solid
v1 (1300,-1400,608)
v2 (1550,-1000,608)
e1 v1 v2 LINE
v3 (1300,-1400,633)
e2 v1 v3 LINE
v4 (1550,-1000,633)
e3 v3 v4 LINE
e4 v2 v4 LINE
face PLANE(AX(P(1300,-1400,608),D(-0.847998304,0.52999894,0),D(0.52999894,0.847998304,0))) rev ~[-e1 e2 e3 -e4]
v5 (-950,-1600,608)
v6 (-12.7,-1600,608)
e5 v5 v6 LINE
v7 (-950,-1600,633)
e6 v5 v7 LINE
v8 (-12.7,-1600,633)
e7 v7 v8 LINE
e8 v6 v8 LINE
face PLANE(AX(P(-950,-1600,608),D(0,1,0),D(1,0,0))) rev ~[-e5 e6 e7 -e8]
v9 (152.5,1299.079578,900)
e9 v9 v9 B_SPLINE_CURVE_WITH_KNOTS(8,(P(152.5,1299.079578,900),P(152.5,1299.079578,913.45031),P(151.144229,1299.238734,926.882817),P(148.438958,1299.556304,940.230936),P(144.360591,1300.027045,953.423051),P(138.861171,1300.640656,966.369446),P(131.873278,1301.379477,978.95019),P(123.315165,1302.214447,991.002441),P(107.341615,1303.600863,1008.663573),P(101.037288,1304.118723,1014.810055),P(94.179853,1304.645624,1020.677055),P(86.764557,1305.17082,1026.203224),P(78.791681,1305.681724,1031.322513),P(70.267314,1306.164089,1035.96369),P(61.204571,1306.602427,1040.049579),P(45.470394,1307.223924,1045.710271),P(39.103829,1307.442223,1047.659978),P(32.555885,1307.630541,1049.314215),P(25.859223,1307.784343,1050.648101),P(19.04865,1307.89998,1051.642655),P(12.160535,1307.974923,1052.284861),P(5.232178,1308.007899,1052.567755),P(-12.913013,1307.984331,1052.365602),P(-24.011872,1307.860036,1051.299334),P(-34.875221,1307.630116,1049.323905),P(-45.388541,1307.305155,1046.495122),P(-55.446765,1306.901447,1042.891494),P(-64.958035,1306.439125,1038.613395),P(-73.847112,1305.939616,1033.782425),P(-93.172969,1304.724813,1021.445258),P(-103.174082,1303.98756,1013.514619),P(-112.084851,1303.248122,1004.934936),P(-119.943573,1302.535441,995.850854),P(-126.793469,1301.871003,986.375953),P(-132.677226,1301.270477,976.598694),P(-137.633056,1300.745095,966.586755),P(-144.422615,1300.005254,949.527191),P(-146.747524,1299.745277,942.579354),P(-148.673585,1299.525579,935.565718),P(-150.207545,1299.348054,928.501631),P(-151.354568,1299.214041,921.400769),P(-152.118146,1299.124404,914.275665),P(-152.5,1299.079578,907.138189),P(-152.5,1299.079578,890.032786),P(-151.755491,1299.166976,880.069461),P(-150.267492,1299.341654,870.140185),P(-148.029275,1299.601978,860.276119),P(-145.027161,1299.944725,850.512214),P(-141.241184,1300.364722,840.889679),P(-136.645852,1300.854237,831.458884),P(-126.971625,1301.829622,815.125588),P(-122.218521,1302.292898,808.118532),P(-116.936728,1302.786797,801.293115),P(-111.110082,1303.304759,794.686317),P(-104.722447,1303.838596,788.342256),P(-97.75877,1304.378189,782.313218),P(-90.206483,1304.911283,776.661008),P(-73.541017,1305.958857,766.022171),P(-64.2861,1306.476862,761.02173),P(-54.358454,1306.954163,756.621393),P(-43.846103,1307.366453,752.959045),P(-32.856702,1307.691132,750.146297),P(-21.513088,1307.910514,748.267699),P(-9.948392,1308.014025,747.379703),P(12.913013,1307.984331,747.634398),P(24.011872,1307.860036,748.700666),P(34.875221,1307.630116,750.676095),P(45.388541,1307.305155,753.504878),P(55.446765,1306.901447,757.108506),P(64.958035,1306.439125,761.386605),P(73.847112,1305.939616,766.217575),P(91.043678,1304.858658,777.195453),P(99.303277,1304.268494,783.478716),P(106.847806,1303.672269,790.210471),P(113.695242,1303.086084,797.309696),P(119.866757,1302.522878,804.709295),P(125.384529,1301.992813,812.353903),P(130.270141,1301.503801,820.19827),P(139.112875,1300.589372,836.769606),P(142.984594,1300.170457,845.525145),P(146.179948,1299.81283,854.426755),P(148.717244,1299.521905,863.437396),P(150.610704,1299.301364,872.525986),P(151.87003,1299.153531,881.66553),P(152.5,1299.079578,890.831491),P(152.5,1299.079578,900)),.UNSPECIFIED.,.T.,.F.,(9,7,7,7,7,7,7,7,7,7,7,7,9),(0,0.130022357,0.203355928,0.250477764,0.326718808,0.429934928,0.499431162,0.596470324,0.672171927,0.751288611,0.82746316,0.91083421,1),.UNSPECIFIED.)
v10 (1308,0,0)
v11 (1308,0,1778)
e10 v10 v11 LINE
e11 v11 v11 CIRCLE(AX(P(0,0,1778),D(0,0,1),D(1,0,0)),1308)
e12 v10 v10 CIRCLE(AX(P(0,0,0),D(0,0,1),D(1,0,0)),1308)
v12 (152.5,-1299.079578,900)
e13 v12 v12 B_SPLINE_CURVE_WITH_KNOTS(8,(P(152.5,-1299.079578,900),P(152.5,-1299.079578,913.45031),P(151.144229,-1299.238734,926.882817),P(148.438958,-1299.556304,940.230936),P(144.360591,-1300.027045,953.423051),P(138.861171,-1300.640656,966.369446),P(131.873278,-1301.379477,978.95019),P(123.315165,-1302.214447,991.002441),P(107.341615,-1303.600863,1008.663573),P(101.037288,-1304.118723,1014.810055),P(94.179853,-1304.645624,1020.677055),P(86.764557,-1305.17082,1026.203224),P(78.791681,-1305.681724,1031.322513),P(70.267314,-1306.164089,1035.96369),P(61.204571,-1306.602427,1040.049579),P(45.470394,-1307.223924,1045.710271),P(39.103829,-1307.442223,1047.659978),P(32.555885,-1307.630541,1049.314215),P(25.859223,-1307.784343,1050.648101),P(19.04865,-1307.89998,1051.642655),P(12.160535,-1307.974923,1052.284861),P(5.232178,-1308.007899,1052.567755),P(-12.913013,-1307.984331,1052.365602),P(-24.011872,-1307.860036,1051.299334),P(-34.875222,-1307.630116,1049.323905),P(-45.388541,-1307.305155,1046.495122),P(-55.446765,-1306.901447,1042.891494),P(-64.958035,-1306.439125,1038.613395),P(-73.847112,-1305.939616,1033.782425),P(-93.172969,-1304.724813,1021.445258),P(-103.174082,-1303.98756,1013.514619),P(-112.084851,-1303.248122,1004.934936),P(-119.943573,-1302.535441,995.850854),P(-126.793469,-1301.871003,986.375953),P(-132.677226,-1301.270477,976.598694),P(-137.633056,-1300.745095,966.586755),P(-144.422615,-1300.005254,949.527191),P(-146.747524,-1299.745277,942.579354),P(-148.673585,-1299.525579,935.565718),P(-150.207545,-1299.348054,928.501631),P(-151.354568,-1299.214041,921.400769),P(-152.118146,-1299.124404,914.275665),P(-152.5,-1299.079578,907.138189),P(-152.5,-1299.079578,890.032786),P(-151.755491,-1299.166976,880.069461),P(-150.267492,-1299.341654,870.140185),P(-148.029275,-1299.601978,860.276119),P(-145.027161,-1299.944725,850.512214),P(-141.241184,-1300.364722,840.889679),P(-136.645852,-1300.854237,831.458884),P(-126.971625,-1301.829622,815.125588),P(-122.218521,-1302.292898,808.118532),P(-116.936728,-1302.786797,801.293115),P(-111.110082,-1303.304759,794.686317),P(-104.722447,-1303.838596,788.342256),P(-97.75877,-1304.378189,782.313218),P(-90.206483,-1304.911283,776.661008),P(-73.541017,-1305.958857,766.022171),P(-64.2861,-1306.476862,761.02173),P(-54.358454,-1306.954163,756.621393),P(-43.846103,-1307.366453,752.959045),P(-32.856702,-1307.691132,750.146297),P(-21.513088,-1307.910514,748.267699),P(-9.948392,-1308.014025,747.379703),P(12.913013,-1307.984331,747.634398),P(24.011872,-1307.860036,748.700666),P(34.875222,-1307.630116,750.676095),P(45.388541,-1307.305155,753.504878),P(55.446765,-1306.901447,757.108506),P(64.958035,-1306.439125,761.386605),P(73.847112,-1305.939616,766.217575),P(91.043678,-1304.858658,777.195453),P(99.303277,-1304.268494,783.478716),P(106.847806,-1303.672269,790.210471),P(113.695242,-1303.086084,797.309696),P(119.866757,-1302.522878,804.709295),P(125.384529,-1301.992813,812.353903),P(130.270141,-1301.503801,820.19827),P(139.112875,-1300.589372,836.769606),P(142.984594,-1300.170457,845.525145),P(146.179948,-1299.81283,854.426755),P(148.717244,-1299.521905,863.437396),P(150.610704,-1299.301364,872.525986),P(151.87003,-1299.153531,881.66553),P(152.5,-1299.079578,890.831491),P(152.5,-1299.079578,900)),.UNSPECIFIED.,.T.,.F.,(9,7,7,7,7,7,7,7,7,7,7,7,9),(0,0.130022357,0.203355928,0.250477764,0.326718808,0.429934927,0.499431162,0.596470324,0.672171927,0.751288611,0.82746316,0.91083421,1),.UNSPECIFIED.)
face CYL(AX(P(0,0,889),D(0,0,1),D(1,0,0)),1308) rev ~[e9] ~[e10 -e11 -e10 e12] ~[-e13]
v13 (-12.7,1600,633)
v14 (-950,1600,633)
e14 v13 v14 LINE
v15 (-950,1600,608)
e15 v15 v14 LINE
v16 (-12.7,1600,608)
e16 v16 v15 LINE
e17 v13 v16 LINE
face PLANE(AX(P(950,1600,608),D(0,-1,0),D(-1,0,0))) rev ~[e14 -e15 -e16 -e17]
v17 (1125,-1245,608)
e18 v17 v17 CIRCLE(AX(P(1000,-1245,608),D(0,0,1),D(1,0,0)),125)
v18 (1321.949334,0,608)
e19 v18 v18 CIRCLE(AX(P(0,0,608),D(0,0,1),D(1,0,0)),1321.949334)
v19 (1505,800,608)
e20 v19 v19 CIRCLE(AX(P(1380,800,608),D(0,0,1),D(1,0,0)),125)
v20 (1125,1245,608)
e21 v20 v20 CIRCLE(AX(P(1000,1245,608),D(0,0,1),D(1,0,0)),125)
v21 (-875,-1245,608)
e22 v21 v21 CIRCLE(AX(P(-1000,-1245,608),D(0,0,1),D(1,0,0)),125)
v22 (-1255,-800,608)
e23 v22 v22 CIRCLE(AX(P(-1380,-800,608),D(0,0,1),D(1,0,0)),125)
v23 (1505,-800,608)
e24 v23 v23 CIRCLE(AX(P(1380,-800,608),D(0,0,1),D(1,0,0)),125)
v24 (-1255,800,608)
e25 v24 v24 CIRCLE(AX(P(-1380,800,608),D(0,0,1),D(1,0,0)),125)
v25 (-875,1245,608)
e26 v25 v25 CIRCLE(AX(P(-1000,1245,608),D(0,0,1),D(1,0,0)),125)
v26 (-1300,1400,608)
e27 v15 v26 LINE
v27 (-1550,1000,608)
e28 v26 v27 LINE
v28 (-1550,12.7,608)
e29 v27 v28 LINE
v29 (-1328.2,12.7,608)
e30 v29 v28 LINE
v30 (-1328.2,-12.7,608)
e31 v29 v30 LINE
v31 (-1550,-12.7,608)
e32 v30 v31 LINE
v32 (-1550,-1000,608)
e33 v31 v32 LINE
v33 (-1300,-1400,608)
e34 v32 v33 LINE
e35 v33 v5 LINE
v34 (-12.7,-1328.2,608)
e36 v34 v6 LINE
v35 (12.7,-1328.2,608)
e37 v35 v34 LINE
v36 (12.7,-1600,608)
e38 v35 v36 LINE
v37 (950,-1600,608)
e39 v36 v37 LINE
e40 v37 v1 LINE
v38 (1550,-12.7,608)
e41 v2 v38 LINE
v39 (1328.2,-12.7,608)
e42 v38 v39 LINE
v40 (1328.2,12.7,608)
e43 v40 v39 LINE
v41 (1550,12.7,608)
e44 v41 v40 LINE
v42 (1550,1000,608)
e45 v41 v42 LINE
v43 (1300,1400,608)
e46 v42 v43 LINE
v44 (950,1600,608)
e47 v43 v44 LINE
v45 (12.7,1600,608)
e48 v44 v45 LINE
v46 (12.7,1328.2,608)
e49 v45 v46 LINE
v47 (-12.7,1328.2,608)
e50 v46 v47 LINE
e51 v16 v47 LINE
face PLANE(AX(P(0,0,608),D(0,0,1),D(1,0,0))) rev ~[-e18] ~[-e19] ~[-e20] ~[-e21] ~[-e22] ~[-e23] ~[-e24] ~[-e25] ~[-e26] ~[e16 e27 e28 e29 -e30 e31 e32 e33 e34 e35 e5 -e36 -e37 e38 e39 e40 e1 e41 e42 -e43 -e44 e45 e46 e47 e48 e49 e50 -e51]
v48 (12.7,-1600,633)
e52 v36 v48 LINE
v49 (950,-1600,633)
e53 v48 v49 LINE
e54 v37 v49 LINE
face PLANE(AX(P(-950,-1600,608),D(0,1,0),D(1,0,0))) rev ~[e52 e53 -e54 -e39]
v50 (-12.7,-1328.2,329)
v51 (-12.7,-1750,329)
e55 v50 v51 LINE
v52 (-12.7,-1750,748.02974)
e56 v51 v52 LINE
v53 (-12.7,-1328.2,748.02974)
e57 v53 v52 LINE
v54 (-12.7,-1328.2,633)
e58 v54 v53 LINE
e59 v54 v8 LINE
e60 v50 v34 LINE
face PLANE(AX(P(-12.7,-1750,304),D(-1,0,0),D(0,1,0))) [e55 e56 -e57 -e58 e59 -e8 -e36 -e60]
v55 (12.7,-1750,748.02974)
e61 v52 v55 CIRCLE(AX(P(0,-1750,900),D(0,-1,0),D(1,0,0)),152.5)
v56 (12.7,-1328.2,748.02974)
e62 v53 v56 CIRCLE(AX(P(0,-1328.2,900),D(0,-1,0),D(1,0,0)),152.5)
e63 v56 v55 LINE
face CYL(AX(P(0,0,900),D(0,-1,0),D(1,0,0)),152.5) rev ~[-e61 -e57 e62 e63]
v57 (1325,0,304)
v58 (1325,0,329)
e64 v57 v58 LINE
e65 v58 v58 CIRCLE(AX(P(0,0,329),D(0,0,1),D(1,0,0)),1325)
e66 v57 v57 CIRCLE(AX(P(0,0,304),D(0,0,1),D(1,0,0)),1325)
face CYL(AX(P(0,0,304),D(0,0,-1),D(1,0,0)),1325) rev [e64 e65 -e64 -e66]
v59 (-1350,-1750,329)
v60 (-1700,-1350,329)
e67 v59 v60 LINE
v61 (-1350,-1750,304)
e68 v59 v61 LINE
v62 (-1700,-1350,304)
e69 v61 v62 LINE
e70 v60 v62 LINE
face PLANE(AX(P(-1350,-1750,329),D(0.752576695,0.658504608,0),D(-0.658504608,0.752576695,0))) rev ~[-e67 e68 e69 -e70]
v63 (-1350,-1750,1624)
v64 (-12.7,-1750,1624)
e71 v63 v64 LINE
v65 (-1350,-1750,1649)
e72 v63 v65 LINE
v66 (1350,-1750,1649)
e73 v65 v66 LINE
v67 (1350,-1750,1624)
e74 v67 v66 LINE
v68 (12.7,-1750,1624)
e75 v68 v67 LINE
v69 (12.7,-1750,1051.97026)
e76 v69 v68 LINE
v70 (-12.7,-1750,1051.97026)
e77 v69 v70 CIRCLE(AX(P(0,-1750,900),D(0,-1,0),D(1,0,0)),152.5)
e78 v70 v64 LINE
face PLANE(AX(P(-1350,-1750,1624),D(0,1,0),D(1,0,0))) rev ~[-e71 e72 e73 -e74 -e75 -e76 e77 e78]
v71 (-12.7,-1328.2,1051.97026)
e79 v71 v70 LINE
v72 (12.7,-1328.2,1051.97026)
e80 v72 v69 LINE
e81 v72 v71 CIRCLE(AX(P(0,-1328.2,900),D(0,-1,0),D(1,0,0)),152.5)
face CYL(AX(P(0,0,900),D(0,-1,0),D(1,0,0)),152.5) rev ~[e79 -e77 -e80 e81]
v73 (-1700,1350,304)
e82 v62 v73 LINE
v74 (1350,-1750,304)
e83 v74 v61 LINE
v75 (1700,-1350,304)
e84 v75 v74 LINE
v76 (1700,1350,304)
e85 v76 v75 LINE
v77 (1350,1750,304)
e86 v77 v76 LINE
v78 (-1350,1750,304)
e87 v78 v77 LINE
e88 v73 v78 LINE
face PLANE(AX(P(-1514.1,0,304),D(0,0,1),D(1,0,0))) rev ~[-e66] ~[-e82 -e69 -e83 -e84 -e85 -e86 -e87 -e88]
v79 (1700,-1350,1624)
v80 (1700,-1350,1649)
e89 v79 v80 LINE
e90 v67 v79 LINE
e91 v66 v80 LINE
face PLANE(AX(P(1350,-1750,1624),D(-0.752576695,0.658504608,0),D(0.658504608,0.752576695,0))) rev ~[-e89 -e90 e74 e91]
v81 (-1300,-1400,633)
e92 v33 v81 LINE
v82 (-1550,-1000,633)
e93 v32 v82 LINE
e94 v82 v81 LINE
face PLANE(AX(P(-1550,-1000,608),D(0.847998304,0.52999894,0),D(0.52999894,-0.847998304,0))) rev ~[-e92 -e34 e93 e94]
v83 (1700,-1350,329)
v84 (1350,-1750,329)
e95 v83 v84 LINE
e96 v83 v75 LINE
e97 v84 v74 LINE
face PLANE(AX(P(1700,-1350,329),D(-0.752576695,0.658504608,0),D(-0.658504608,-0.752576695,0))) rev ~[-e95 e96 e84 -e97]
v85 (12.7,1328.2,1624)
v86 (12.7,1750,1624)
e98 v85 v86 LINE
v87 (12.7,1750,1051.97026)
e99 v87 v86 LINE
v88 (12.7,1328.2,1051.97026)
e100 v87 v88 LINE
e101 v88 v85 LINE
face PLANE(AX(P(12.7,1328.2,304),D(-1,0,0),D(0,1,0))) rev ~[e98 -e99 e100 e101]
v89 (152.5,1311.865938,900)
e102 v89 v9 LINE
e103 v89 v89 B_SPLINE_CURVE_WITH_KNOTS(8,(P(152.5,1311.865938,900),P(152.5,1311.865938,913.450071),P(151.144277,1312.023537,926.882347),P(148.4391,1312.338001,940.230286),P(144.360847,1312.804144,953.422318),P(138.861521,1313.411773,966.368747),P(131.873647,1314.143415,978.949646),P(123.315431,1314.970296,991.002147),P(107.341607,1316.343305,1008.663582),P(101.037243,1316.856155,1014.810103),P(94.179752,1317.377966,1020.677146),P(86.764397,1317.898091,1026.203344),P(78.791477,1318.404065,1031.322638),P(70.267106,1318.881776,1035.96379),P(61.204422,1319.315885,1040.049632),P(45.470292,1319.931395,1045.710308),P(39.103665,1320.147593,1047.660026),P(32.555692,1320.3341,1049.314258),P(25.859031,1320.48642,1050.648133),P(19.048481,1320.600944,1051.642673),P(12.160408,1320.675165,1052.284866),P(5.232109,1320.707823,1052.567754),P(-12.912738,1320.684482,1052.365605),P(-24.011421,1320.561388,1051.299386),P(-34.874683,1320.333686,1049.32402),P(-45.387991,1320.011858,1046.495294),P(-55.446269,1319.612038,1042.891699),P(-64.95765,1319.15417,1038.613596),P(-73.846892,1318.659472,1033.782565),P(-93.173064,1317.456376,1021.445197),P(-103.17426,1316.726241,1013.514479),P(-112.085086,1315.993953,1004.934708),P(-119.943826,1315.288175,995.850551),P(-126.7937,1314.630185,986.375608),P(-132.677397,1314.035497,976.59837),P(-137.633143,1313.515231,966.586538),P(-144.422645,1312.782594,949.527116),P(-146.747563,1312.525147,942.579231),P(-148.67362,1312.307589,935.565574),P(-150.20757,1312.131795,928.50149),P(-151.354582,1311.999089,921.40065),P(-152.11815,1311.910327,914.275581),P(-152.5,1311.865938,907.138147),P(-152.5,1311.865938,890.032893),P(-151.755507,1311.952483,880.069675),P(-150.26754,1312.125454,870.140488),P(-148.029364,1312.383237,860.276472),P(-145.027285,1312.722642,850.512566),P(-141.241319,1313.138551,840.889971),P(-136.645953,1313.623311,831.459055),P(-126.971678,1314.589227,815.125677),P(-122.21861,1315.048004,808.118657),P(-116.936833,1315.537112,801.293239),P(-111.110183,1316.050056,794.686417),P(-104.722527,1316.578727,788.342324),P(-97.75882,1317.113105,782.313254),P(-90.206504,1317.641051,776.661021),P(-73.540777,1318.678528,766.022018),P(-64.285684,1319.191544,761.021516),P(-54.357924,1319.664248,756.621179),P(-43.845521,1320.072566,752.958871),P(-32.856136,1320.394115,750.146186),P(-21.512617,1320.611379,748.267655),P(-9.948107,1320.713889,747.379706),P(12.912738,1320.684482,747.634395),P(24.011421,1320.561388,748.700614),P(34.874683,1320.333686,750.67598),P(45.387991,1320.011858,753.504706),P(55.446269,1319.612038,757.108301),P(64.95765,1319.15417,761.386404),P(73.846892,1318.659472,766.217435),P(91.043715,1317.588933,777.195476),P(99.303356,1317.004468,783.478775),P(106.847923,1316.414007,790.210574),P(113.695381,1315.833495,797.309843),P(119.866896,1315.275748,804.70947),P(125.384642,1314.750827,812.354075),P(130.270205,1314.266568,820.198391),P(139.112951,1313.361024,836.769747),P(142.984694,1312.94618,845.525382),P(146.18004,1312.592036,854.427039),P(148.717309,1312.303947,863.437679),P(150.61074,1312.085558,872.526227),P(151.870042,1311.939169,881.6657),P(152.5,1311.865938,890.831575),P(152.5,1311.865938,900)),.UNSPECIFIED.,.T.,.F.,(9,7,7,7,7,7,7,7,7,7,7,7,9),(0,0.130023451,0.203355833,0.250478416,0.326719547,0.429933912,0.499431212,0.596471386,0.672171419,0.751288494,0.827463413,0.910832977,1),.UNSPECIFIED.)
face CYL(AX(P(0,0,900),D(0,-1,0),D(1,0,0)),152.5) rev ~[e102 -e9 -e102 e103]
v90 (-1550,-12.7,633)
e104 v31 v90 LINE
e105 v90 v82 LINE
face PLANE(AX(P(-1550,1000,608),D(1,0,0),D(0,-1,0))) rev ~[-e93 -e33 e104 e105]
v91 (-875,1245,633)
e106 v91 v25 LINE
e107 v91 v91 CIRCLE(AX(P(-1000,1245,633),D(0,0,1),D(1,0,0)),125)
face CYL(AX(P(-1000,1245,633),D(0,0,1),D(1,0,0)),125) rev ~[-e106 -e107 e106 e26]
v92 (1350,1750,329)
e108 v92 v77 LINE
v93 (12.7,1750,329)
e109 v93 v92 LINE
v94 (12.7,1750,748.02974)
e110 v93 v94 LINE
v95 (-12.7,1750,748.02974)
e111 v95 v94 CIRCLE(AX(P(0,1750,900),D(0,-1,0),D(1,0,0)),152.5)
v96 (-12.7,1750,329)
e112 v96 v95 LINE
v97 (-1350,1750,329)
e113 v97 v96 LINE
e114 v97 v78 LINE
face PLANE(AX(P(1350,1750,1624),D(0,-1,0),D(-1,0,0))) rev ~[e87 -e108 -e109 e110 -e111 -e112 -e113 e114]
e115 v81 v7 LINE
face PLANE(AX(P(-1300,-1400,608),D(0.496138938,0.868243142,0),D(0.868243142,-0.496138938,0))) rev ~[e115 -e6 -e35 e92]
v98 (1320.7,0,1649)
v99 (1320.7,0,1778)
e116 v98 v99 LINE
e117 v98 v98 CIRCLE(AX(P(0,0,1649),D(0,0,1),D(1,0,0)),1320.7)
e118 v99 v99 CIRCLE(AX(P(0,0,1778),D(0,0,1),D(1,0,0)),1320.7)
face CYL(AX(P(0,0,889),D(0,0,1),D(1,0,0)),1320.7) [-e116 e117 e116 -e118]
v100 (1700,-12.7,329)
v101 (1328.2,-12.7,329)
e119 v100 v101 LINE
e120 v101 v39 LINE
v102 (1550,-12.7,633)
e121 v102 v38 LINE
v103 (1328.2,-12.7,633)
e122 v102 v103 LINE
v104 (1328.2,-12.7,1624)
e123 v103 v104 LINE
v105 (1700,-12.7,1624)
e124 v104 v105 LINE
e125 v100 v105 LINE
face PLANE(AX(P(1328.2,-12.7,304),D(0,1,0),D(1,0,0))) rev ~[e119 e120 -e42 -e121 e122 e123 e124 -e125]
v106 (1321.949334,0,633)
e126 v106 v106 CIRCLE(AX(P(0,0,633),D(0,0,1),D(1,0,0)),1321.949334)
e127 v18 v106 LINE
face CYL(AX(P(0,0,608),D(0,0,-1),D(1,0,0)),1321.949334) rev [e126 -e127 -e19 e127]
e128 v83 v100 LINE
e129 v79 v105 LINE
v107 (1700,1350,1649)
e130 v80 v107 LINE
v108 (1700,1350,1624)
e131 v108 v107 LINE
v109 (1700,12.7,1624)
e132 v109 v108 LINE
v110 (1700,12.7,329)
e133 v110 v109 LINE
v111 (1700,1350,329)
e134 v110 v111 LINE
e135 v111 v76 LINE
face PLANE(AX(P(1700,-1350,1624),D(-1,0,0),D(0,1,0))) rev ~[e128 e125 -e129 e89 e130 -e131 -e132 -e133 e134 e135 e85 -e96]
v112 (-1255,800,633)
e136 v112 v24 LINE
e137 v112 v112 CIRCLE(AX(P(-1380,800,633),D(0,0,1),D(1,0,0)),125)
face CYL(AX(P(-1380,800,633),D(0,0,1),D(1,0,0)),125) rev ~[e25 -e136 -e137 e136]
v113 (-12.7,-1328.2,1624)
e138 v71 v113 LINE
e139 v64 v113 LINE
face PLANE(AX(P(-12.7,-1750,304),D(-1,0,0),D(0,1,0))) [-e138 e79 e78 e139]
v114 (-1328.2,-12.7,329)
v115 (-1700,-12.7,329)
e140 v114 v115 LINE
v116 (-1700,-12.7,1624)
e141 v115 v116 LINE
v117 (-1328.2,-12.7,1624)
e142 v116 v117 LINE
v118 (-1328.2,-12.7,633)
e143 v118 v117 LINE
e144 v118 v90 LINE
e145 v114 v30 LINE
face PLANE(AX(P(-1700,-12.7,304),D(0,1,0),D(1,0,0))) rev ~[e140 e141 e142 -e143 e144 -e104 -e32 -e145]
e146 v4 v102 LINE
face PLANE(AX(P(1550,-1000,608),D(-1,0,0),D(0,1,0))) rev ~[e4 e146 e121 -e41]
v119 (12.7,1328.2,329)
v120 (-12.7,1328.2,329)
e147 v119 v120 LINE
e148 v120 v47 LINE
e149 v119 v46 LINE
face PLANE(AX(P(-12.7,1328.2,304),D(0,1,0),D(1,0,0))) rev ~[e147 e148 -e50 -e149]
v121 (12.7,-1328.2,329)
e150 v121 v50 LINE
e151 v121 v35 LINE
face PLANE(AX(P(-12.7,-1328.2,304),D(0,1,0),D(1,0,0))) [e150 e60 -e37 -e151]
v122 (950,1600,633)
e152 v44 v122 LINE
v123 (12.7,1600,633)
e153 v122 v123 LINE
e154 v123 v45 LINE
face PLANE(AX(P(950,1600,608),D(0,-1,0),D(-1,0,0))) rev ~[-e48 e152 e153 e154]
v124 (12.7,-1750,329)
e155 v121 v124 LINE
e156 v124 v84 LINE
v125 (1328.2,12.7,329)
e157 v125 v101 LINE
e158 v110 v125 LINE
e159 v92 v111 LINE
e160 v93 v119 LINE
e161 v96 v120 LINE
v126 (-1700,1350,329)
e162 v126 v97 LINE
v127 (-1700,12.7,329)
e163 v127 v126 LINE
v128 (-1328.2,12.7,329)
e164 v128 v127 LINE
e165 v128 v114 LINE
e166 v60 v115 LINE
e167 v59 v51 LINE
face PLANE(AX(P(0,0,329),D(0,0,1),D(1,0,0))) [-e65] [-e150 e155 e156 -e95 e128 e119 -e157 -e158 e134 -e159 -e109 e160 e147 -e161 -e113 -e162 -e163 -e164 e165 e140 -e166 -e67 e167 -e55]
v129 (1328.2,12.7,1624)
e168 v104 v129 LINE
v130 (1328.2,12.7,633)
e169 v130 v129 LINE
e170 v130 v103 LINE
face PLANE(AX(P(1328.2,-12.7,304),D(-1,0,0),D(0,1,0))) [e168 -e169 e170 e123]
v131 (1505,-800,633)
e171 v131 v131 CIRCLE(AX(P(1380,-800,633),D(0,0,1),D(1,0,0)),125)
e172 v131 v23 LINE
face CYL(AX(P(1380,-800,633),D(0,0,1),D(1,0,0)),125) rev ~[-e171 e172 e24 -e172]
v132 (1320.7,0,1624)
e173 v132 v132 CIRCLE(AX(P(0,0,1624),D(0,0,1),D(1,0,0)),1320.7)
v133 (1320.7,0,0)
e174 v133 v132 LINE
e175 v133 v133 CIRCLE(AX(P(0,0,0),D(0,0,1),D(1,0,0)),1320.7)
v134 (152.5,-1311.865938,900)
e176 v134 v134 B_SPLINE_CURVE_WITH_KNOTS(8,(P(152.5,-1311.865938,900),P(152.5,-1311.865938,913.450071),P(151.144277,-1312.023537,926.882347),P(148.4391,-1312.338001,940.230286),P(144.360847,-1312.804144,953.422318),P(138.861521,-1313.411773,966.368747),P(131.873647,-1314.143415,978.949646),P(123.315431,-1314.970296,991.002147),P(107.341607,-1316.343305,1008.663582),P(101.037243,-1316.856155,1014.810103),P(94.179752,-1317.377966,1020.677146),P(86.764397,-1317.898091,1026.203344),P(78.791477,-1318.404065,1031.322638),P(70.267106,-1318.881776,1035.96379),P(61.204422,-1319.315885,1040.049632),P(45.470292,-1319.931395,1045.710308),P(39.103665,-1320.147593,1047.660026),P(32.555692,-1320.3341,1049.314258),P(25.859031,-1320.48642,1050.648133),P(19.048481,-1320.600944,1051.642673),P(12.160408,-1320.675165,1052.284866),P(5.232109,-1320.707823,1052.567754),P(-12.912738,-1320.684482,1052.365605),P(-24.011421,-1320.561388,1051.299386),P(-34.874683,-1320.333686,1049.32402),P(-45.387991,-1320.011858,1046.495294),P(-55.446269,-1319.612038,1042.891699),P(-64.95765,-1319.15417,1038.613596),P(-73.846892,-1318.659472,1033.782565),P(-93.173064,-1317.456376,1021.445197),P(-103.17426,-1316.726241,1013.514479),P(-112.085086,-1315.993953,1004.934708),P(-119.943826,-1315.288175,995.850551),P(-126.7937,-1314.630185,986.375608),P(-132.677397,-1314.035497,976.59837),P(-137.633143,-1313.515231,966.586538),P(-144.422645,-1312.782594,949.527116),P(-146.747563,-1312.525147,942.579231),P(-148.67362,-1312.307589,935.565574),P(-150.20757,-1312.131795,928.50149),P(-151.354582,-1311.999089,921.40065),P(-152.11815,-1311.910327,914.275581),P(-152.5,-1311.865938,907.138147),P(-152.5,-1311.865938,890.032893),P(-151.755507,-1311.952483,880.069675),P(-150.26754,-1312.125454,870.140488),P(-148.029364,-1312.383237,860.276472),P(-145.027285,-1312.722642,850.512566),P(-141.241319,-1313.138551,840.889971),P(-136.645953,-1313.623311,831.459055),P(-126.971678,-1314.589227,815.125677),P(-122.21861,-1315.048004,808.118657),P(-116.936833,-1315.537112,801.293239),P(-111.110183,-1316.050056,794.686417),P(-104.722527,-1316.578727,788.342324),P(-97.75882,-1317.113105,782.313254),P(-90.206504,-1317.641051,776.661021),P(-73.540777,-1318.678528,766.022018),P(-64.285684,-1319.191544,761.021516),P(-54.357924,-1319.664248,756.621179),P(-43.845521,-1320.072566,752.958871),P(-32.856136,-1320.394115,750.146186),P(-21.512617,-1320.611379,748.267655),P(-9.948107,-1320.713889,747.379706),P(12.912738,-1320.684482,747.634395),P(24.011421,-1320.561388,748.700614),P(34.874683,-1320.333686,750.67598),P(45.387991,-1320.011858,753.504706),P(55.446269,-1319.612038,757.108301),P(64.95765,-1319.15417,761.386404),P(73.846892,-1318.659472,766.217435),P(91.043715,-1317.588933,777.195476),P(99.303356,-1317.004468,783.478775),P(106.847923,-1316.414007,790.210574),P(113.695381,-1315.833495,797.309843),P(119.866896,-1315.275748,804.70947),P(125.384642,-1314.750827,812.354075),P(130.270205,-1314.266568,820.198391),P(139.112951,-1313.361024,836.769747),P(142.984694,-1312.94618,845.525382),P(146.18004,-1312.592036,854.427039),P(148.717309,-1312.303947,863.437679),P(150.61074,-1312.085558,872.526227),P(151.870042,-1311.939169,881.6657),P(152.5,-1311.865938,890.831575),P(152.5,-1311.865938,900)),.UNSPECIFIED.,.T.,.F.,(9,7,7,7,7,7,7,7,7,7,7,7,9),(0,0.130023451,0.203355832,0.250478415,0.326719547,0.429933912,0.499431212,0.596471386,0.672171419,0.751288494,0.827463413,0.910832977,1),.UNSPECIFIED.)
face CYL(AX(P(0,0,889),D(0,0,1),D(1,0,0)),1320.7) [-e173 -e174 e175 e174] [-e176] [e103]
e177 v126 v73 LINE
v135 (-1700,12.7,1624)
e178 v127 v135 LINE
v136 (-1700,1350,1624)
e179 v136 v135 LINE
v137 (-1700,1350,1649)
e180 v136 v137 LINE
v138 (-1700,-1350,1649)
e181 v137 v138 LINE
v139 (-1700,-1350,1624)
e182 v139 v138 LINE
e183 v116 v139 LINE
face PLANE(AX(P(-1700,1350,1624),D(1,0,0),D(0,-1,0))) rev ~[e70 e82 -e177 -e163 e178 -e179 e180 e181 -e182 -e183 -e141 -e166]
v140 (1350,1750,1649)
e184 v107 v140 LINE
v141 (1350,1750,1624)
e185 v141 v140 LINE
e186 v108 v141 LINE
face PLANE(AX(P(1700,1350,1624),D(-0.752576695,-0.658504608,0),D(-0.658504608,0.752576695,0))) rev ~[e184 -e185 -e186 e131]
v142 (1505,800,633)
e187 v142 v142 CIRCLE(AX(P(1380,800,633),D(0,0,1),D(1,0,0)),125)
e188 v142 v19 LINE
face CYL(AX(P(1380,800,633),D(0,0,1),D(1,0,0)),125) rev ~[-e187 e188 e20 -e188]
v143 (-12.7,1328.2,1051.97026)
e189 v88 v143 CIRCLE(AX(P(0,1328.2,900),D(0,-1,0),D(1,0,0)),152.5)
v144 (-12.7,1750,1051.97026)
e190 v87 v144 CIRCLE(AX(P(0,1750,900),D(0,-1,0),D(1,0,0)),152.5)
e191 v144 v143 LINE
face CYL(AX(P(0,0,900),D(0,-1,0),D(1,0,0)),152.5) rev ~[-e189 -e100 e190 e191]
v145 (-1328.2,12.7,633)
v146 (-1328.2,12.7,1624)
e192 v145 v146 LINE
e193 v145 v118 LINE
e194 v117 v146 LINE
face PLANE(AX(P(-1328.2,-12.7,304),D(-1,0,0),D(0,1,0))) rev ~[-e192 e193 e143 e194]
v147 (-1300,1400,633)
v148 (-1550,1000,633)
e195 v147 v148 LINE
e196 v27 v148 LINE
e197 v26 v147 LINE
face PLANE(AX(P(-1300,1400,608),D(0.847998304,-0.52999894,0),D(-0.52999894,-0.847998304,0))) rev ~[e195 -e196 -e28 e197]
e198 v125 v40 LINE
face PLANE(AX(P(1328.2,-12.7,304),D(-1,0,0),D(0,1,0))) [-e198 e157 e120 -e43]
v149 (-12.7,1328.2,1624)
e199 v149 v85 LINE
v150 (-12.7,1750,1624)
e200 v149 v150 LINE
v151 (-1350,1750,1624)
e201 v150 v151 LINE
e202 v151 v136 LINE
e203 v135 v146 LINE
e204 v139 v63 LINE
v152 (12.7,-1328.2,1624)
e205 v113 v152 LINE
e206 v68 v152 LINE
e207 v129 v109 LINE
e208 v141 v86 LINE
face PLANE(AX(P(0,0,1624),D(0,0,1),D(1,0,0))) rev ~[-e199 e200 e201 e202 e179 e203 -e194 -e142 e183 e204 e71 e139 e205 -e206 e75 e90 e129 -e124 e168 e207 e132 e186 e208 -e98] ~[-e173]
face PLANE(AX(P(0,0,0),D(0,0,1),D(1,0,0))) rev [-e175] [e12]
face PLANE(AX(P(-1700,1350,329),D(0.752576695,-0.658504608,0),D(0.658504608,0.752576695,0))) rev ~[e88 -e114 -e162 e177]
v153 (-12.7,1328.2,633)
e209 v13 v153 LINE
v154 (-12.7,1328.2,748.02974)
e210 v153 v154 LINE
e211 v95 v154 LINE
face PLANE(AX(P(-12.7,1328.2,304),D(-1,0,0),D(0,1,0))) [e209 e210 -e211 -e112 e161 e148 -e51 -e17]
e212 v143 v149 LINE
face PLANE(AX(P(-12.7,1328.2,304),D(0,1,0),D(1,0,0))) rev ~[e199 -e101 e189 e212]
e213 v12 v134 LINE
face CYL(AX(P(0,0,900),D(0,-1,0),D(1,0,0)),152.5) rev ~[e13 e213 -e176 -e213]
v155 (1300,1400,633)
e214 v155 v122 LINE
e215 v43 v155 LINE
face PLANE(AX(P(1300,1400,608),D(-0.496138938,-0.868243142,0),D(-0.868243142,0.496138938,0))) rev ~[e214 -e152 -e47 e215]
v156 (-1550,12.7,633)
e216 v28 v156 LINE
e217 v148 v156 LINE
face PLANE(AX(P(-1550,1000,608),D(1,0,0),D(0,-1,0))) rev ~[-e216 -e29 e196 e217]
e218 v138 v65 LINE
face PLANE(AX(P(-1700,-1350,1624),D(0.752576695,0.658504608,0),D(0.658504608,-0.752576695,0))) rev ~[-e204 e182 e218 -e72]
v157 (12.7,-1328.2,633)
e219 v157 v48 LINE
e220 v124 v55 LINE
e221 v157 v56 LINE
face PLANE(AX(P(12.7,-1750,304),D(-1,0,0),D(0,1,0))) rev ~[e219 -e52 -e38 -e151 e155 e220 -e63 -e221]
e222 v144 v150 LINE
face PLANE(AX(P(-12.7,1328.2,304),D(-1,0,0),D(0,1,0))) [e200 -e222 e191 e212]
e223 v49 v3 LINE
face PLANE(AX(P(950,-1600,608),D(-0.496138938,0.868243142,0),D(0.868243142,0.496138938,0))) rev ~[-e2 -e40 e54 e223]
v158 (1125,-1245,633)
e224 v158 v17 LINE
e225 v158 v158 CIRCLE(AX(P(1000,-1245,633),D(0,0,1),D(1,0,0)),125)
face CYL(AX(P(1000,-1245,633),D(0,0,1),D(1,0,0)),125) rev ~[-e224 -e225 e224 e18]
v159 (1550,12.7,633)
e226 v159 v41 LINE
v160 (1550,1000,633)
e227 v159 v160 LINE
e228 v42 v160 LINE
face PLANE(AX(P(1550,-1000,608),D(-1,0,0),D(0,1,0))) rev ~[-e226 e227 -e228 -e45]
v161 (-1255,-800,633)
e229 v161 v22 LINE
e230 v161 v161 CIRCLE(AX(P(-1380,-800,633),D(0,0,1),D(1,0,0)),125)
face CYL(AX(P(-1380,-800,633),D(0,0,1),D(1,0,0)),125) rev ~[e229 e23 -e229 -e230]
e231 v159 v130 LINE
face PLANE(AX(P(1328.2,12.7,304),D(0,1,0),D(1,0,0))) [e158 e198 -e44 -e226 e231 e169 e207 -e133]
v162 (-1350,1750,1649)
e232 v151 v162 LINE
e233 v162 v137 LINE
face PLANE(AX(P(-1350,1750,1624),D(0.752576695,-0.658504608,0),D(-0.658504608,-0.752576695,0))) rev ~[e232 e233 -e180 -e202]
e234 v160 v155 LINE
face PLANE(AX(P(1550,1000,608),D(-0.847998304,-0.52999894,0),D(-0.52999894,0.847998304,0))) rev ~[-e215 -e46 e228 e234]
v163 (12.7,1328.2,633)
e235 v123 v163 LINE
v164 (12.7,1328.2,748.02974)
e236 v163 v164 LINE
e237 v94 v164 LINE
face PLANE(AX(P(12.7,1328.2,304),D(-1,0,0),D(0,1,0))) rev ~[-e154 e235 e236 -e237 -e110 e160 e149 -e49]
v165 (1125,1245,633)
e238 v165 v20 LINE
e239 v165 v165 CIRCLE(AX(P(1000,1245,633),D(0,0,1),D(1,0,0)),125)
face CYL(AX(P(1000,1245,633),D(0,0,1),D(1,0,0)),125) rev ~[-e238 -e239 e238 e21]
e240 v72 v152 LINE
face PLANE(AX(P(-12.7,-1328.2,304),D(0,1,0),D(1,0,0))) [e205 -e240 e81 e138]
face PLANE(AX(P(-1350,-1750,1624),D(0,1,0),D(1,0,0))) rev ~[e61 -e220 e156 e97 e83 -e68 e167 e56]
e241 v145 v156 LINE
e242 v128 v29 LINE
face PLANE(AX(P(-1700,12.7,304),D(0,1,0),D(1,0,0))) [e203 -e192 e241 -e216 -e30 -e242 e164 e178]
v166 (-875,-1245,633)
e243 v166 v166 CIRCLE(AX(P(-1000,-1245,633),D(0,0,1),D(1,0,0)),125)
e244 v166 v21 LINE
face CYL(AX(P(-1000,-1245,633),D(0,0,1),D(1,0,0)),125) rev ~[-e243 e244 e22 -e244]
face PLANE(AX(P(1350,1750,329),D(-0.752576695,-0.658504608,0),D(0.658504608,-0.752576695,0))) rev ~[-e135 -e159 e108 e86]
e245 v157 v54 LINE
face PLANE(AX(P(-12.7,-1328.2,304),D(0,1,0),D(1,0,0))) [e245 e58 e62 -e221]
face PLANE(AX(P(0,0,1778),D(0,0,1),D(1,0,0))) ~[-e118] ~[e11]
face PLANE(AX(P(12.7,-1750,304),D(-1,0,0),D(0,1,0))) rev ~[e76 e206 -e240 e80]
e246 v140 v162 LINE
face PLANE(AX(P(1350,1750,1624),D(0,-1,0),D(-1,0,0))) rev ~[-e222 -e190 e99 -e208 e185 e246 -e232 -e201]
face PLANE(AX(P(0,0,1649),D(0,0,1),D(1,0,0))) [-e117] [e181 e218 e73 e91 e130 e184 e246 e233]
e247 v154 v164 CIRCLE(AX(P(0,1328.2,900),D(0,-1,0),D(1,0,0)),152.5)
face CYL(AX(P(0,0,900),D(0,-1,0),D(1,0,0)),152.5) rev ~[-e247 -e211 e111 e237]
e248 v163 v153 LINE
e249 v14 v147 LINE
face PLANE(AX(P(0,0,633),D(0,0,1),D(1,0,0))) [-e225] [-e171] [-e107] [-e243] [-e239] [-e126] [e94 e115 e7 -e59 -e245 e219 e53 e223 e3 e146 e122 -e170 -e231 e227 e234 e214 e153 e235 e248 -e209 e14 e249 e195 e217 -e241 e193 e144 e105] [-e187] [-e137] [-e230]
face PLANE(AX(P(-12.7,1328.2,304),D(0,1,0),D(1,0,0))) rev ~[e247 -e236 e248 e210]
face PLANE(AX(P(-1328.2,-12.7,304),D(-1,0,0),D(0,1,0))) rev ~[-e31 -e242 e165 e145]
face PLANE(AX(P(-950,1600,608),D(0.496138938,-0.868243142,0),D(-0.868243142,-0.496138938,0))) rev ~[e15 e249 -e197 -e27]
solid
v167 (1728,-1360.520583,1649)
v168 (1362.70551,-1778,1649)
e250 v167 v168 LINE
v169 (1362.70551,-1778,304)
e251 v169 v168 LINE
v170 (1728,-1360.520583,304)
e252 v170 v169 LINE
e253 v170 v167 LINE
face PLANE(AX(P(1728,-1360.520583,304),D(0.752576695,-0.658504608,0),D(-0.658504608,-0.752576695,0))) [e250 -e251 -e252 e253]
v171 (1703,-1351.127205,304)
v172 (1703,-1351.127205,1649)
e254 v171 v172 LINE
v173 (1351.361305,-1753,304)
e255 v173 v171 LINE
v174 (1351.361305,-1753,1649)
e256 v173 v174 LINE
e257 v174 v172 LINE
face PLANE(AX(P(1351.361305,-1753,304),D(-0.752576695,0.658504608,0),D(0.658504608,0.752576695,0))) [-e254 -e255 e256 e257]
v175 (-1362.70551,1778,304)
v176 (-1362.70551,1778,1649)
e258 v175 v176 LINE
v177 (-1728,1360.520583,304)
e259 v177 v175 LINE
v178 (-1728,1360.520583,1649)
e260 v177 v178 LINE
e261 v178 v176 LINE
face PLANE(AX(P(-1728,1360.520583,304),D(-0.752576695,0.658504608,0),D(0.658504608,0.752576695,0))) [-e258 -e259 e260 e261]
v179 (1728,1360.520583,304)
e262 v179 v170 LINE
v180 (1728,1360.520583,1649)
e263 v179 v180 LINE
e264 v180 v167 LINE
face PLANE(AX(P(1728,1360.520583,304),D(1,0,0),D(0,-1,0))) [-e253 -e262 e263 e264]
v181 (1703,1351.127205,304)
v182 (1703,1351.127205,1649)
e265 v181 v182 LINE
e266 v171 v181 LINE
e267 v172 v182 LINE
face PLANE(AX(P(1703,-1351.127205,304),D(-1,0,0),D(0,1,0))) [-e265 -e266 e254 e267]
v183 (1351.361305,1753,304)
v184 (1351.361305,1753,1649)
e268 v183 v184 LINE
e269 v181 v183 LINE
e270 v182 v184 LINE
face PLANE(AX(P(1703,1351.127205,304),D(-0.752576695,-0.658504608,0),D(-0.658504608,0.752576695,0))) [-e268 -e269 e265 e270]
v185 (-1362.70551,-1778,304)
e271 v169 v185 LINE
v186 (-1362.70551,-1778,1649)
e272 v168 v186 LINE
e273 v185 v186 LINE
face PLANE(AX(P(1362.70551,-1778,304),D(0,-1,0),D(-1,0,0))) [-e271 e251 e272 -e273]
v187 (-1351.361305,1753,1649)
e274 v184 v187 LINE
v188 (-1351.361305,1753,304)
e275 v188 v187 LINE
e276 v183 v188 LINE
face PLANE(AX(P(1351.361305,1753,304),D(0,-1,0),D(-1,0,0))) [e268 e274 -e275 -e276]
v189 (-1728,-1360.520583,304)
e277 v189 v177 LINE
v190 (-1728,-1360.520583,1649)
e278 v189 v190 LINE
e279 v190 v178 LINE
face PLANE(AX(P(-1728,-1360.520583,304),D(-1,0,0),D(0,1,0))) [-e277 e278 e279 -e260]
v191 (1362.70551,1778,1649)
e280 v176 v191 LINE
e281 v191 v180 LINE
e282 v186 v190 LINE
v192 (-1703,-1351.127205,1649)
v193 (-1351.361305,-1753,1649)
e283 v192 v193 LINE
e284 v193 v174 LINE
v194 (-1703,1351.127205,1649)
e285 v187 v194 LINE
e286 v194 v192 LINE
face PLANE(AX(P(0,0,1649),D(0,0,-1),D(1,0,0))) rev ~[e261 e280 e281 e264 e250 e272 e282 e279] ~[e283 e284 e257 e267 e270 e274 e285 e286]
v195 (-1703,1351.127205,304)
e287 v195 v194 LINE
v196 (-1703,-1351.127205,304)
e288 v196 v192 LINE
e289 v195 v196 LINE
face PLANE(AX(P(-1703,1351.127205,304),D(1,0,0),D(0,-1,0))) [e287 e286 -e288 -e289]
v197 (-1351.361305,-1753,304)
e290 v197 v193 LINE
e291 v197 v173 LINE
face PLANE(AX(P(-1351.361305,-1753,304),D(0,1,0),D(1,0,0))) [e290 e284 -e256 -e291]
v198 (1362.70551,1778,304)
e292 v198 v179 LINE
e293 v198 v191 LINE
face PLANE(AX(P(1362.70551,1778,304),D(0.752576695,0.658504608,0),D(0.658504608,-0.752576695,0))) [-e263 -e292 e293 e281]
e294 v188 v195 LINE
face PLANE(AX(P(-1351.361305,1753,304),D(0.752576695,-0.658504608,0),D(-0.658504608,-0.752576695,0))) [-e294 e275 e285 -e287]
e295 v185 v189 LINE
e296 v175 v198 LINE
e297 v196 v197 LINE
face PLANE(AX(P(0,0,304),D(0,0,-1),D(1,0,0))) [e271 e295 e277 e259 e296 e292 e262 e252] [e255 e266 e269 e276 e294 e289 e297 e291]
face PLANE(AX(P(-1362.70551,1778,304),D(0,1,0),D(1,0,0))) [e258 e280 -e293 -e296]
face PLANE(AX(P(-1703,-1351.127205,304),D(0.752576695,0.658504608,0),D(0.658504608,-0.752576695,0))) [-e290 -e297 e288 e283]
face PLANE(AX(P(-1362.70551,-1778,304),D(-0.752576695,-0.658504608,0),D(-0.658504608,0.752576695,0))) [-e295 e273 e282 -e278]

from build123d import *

# Parameters (mm, degrees)
F0_W      = 12.7
F0_H      = 1778
F3_W      = 3400
F3_H      = 3500
F3_R      = 1325
F4_DEPTH  = 25
F6_R      = 1321.9493342277
F7_DEPTH  = 25
F8_R      = 125
F9_DEPTH  = 25
F11_DEPTH = 25
F13_R     = 1320.7
F14_DEPTH = 25
F15_W     = 25.4
F15_H     = 421.8
F16_DEPTH = 1320
F15_W_2   = 371.8
F15_H_2   = 25.4
F21_DEPTH = 1345
F19_R     = 152.5
F22_DEPTH = 4000


with BuildPart() as f1:
    # F0 (on Front) → F1 (revolve)
    with BuildSketch(Plane.XZ):
        with Locations((1314.35, 889)):
            Rectangle(F0_W, F0_H)
    revolve(axis=Axis((0, 0, 45.3114323318), (0, 0, 1)))

    # F13 (on offset) → F14 (join)
    with BuildSketch(Plane.XY.offset(1624)):
        Polygon((1350, 1750), (-1350, 1750), (-1700, 1350), (-1700, -1350), (-1350, -1750), (1350, -1750), (1700, -1350), (1700, 1350), align=None)
        Circle(F13_R, mode=Mode.SUBTRACT)
    extrude(amount=F14_DEPTH)


with BuildPart() as f4:
    # F3 (on offset) → F4 (new body)
    with BuildSketch(Plane.XY.offset(304)):
        Rectangle(F3_W, F3_H)
        Circle(F3_R, mode=Mode.SUBTRACT)
    extrude(amount=F4_DEPTH)

    # F10 (on face) → F11 (cut)
    with BuildSketch(Plane.XY.offset(329)):
        Polygon((1700, 1350), (1700, 1750), (1350, 1750), align=None)
        Polygon((1350, -1750), (1700, -1750), (1700, -1350), align=None)
        Polygon((-1700, -1750), (-1350, -1750), (-1700, -1350), align=None)
        Polygon((-1700, 1350), (-1350, 1750), (-1700, 1750), align=None)
    extrude(amount=-F11_DEPTH, mode=Mode.SUBTRACT)


with BuildPart() as f7:
    # F6 (on offset) → F7 (new body)
    with BuildSketch(Plane.XY.offset(608)):
        Polygon((-1550, -1000), (-1300, -1400), (-950, -1600), (950, -1600), (1300, -1400), (1550, -1000), (1550, 1000), (1300, 1400), (950, 1600), (-950, 1600), (-1300, 1400), (-1550, 1000), align=None)
        Circle(F6_R, mode=Mode.SUBTRACT)
    extrude(amount=F7_DEPTH)

    # F8 (on face) → F9 (cut)
    with BuildSketch(Plane.XY.offset(633)):
        with Locations((-1380, 800)):
            Circle(F8_R)
        with Locations((-1380, -800)):
            Circle(F8_R)
        with Locations((1380, 800)):
            Circle(F8_R)
        with Locations((1380, -800)):
            Circle(F8_R)
        with Locations((-1000, 1245)):
            Circle(F8_R)
        with Locations((1000, 1245)):
            Circle(F8_R)
        with Locations((1000, -1245)):
            Circle(F8_R)
        with Locations((-1000, -1245)):
            Circle(F8_R)
    extrude(amount=-F9_DEPTH, mode=Mode.SUBTRACT)


with BuildPart() as f16:
    # F15 (on offset) → F16 (new body, through all)
    with BuildSketch(Plane.XY.offset(304)):
        with Locations((0, 1539.1)):
            Rectangle(F15_W, F15_H)
    extrude(amount=F16_DEPTH)


with BuildPart() as f16b:
    # F15 (on offset) → F16, piece 2 (new body, through all)
    with BuildSketch(Plane.XY.offset(304)):
        with Locations((0, -1539.1)):
            Rectangle(F15_W, F15_H)
    extrude(amount=F16_DEPTH)


with BuildPart() as f16c:
    # F15 (on offset) → F16, piece 3 (new body, through all)
    with BuildSketch(Plane.XY.offset(304)):
        with Locations((-1514.1, 0)):
            Rectangle(F15_W_2, F15_H_2)
    extrude(amount=F16_DEPTH)


with BuildPart() as f16d:
    # F15 (on offset) → F16, piece 4 (new body, through all)
    with BuildSketch(Plane.XY.offset(304)):
        with Locations((1514.1, 0)):
            Rectangle(F15_W_2, F15_H_2)
    extrude(amount=F16_DEPTH)


with BuildPart() as f4_1:
    add(f4.part)

    # F17: union F7, F16, F16b, F16d, F16c
    add(f7.part)
    add(f16.part)
    add(f16b.part)
    add(f16d.part)
    add(f16c.part)


with BuildPart() as f1_1:
    add(f1.part)

    # F18: union F4
    add(f4_1.part)

    # F19 (on Front) → F22 (cut, symmetric)
    with BuildSketch(Plane.XZ):
        with Locations((0, 900)):
            Circle(F19_R)
    extrude(amount=F22_DEPTH, both=True, mode=Mode.SUBTRACT)


with BuildPart() as f21:
    # F20 (on face) → F21 (new body, through all)
    with BuildSketch(Plane(origin=(0, 0, 304), x_dir=(1, 0, 0), z_dir=(0, 0, -1))):
        Polygon((-1728, -1360.5205832509), (-1362.7055103446, -1778), (1362.7055103446, -1778), (1728, -1360.5205832509), (1728, 1360.5205832509), (1362.7055103446, 1778), (-1362.7055103446, 1778), (-1728, 1360.5205832509), align=None)
        Polygon((1351.3613046798, -1753), (-1351.3613046798, -1753), (-1703, -1351.1272053483), (-1703, 1351.1272053483), (-1351.3613046798, 1753), (1351.3613046798, 1753), (1703, 1351.1272053483), (1703, -1351.1272053483), align=None, mode=Mode.SUBTRACT)
    extrude(amount=-F21_DEPTH)


solid = Compound([f1_1.part, f21.part])
